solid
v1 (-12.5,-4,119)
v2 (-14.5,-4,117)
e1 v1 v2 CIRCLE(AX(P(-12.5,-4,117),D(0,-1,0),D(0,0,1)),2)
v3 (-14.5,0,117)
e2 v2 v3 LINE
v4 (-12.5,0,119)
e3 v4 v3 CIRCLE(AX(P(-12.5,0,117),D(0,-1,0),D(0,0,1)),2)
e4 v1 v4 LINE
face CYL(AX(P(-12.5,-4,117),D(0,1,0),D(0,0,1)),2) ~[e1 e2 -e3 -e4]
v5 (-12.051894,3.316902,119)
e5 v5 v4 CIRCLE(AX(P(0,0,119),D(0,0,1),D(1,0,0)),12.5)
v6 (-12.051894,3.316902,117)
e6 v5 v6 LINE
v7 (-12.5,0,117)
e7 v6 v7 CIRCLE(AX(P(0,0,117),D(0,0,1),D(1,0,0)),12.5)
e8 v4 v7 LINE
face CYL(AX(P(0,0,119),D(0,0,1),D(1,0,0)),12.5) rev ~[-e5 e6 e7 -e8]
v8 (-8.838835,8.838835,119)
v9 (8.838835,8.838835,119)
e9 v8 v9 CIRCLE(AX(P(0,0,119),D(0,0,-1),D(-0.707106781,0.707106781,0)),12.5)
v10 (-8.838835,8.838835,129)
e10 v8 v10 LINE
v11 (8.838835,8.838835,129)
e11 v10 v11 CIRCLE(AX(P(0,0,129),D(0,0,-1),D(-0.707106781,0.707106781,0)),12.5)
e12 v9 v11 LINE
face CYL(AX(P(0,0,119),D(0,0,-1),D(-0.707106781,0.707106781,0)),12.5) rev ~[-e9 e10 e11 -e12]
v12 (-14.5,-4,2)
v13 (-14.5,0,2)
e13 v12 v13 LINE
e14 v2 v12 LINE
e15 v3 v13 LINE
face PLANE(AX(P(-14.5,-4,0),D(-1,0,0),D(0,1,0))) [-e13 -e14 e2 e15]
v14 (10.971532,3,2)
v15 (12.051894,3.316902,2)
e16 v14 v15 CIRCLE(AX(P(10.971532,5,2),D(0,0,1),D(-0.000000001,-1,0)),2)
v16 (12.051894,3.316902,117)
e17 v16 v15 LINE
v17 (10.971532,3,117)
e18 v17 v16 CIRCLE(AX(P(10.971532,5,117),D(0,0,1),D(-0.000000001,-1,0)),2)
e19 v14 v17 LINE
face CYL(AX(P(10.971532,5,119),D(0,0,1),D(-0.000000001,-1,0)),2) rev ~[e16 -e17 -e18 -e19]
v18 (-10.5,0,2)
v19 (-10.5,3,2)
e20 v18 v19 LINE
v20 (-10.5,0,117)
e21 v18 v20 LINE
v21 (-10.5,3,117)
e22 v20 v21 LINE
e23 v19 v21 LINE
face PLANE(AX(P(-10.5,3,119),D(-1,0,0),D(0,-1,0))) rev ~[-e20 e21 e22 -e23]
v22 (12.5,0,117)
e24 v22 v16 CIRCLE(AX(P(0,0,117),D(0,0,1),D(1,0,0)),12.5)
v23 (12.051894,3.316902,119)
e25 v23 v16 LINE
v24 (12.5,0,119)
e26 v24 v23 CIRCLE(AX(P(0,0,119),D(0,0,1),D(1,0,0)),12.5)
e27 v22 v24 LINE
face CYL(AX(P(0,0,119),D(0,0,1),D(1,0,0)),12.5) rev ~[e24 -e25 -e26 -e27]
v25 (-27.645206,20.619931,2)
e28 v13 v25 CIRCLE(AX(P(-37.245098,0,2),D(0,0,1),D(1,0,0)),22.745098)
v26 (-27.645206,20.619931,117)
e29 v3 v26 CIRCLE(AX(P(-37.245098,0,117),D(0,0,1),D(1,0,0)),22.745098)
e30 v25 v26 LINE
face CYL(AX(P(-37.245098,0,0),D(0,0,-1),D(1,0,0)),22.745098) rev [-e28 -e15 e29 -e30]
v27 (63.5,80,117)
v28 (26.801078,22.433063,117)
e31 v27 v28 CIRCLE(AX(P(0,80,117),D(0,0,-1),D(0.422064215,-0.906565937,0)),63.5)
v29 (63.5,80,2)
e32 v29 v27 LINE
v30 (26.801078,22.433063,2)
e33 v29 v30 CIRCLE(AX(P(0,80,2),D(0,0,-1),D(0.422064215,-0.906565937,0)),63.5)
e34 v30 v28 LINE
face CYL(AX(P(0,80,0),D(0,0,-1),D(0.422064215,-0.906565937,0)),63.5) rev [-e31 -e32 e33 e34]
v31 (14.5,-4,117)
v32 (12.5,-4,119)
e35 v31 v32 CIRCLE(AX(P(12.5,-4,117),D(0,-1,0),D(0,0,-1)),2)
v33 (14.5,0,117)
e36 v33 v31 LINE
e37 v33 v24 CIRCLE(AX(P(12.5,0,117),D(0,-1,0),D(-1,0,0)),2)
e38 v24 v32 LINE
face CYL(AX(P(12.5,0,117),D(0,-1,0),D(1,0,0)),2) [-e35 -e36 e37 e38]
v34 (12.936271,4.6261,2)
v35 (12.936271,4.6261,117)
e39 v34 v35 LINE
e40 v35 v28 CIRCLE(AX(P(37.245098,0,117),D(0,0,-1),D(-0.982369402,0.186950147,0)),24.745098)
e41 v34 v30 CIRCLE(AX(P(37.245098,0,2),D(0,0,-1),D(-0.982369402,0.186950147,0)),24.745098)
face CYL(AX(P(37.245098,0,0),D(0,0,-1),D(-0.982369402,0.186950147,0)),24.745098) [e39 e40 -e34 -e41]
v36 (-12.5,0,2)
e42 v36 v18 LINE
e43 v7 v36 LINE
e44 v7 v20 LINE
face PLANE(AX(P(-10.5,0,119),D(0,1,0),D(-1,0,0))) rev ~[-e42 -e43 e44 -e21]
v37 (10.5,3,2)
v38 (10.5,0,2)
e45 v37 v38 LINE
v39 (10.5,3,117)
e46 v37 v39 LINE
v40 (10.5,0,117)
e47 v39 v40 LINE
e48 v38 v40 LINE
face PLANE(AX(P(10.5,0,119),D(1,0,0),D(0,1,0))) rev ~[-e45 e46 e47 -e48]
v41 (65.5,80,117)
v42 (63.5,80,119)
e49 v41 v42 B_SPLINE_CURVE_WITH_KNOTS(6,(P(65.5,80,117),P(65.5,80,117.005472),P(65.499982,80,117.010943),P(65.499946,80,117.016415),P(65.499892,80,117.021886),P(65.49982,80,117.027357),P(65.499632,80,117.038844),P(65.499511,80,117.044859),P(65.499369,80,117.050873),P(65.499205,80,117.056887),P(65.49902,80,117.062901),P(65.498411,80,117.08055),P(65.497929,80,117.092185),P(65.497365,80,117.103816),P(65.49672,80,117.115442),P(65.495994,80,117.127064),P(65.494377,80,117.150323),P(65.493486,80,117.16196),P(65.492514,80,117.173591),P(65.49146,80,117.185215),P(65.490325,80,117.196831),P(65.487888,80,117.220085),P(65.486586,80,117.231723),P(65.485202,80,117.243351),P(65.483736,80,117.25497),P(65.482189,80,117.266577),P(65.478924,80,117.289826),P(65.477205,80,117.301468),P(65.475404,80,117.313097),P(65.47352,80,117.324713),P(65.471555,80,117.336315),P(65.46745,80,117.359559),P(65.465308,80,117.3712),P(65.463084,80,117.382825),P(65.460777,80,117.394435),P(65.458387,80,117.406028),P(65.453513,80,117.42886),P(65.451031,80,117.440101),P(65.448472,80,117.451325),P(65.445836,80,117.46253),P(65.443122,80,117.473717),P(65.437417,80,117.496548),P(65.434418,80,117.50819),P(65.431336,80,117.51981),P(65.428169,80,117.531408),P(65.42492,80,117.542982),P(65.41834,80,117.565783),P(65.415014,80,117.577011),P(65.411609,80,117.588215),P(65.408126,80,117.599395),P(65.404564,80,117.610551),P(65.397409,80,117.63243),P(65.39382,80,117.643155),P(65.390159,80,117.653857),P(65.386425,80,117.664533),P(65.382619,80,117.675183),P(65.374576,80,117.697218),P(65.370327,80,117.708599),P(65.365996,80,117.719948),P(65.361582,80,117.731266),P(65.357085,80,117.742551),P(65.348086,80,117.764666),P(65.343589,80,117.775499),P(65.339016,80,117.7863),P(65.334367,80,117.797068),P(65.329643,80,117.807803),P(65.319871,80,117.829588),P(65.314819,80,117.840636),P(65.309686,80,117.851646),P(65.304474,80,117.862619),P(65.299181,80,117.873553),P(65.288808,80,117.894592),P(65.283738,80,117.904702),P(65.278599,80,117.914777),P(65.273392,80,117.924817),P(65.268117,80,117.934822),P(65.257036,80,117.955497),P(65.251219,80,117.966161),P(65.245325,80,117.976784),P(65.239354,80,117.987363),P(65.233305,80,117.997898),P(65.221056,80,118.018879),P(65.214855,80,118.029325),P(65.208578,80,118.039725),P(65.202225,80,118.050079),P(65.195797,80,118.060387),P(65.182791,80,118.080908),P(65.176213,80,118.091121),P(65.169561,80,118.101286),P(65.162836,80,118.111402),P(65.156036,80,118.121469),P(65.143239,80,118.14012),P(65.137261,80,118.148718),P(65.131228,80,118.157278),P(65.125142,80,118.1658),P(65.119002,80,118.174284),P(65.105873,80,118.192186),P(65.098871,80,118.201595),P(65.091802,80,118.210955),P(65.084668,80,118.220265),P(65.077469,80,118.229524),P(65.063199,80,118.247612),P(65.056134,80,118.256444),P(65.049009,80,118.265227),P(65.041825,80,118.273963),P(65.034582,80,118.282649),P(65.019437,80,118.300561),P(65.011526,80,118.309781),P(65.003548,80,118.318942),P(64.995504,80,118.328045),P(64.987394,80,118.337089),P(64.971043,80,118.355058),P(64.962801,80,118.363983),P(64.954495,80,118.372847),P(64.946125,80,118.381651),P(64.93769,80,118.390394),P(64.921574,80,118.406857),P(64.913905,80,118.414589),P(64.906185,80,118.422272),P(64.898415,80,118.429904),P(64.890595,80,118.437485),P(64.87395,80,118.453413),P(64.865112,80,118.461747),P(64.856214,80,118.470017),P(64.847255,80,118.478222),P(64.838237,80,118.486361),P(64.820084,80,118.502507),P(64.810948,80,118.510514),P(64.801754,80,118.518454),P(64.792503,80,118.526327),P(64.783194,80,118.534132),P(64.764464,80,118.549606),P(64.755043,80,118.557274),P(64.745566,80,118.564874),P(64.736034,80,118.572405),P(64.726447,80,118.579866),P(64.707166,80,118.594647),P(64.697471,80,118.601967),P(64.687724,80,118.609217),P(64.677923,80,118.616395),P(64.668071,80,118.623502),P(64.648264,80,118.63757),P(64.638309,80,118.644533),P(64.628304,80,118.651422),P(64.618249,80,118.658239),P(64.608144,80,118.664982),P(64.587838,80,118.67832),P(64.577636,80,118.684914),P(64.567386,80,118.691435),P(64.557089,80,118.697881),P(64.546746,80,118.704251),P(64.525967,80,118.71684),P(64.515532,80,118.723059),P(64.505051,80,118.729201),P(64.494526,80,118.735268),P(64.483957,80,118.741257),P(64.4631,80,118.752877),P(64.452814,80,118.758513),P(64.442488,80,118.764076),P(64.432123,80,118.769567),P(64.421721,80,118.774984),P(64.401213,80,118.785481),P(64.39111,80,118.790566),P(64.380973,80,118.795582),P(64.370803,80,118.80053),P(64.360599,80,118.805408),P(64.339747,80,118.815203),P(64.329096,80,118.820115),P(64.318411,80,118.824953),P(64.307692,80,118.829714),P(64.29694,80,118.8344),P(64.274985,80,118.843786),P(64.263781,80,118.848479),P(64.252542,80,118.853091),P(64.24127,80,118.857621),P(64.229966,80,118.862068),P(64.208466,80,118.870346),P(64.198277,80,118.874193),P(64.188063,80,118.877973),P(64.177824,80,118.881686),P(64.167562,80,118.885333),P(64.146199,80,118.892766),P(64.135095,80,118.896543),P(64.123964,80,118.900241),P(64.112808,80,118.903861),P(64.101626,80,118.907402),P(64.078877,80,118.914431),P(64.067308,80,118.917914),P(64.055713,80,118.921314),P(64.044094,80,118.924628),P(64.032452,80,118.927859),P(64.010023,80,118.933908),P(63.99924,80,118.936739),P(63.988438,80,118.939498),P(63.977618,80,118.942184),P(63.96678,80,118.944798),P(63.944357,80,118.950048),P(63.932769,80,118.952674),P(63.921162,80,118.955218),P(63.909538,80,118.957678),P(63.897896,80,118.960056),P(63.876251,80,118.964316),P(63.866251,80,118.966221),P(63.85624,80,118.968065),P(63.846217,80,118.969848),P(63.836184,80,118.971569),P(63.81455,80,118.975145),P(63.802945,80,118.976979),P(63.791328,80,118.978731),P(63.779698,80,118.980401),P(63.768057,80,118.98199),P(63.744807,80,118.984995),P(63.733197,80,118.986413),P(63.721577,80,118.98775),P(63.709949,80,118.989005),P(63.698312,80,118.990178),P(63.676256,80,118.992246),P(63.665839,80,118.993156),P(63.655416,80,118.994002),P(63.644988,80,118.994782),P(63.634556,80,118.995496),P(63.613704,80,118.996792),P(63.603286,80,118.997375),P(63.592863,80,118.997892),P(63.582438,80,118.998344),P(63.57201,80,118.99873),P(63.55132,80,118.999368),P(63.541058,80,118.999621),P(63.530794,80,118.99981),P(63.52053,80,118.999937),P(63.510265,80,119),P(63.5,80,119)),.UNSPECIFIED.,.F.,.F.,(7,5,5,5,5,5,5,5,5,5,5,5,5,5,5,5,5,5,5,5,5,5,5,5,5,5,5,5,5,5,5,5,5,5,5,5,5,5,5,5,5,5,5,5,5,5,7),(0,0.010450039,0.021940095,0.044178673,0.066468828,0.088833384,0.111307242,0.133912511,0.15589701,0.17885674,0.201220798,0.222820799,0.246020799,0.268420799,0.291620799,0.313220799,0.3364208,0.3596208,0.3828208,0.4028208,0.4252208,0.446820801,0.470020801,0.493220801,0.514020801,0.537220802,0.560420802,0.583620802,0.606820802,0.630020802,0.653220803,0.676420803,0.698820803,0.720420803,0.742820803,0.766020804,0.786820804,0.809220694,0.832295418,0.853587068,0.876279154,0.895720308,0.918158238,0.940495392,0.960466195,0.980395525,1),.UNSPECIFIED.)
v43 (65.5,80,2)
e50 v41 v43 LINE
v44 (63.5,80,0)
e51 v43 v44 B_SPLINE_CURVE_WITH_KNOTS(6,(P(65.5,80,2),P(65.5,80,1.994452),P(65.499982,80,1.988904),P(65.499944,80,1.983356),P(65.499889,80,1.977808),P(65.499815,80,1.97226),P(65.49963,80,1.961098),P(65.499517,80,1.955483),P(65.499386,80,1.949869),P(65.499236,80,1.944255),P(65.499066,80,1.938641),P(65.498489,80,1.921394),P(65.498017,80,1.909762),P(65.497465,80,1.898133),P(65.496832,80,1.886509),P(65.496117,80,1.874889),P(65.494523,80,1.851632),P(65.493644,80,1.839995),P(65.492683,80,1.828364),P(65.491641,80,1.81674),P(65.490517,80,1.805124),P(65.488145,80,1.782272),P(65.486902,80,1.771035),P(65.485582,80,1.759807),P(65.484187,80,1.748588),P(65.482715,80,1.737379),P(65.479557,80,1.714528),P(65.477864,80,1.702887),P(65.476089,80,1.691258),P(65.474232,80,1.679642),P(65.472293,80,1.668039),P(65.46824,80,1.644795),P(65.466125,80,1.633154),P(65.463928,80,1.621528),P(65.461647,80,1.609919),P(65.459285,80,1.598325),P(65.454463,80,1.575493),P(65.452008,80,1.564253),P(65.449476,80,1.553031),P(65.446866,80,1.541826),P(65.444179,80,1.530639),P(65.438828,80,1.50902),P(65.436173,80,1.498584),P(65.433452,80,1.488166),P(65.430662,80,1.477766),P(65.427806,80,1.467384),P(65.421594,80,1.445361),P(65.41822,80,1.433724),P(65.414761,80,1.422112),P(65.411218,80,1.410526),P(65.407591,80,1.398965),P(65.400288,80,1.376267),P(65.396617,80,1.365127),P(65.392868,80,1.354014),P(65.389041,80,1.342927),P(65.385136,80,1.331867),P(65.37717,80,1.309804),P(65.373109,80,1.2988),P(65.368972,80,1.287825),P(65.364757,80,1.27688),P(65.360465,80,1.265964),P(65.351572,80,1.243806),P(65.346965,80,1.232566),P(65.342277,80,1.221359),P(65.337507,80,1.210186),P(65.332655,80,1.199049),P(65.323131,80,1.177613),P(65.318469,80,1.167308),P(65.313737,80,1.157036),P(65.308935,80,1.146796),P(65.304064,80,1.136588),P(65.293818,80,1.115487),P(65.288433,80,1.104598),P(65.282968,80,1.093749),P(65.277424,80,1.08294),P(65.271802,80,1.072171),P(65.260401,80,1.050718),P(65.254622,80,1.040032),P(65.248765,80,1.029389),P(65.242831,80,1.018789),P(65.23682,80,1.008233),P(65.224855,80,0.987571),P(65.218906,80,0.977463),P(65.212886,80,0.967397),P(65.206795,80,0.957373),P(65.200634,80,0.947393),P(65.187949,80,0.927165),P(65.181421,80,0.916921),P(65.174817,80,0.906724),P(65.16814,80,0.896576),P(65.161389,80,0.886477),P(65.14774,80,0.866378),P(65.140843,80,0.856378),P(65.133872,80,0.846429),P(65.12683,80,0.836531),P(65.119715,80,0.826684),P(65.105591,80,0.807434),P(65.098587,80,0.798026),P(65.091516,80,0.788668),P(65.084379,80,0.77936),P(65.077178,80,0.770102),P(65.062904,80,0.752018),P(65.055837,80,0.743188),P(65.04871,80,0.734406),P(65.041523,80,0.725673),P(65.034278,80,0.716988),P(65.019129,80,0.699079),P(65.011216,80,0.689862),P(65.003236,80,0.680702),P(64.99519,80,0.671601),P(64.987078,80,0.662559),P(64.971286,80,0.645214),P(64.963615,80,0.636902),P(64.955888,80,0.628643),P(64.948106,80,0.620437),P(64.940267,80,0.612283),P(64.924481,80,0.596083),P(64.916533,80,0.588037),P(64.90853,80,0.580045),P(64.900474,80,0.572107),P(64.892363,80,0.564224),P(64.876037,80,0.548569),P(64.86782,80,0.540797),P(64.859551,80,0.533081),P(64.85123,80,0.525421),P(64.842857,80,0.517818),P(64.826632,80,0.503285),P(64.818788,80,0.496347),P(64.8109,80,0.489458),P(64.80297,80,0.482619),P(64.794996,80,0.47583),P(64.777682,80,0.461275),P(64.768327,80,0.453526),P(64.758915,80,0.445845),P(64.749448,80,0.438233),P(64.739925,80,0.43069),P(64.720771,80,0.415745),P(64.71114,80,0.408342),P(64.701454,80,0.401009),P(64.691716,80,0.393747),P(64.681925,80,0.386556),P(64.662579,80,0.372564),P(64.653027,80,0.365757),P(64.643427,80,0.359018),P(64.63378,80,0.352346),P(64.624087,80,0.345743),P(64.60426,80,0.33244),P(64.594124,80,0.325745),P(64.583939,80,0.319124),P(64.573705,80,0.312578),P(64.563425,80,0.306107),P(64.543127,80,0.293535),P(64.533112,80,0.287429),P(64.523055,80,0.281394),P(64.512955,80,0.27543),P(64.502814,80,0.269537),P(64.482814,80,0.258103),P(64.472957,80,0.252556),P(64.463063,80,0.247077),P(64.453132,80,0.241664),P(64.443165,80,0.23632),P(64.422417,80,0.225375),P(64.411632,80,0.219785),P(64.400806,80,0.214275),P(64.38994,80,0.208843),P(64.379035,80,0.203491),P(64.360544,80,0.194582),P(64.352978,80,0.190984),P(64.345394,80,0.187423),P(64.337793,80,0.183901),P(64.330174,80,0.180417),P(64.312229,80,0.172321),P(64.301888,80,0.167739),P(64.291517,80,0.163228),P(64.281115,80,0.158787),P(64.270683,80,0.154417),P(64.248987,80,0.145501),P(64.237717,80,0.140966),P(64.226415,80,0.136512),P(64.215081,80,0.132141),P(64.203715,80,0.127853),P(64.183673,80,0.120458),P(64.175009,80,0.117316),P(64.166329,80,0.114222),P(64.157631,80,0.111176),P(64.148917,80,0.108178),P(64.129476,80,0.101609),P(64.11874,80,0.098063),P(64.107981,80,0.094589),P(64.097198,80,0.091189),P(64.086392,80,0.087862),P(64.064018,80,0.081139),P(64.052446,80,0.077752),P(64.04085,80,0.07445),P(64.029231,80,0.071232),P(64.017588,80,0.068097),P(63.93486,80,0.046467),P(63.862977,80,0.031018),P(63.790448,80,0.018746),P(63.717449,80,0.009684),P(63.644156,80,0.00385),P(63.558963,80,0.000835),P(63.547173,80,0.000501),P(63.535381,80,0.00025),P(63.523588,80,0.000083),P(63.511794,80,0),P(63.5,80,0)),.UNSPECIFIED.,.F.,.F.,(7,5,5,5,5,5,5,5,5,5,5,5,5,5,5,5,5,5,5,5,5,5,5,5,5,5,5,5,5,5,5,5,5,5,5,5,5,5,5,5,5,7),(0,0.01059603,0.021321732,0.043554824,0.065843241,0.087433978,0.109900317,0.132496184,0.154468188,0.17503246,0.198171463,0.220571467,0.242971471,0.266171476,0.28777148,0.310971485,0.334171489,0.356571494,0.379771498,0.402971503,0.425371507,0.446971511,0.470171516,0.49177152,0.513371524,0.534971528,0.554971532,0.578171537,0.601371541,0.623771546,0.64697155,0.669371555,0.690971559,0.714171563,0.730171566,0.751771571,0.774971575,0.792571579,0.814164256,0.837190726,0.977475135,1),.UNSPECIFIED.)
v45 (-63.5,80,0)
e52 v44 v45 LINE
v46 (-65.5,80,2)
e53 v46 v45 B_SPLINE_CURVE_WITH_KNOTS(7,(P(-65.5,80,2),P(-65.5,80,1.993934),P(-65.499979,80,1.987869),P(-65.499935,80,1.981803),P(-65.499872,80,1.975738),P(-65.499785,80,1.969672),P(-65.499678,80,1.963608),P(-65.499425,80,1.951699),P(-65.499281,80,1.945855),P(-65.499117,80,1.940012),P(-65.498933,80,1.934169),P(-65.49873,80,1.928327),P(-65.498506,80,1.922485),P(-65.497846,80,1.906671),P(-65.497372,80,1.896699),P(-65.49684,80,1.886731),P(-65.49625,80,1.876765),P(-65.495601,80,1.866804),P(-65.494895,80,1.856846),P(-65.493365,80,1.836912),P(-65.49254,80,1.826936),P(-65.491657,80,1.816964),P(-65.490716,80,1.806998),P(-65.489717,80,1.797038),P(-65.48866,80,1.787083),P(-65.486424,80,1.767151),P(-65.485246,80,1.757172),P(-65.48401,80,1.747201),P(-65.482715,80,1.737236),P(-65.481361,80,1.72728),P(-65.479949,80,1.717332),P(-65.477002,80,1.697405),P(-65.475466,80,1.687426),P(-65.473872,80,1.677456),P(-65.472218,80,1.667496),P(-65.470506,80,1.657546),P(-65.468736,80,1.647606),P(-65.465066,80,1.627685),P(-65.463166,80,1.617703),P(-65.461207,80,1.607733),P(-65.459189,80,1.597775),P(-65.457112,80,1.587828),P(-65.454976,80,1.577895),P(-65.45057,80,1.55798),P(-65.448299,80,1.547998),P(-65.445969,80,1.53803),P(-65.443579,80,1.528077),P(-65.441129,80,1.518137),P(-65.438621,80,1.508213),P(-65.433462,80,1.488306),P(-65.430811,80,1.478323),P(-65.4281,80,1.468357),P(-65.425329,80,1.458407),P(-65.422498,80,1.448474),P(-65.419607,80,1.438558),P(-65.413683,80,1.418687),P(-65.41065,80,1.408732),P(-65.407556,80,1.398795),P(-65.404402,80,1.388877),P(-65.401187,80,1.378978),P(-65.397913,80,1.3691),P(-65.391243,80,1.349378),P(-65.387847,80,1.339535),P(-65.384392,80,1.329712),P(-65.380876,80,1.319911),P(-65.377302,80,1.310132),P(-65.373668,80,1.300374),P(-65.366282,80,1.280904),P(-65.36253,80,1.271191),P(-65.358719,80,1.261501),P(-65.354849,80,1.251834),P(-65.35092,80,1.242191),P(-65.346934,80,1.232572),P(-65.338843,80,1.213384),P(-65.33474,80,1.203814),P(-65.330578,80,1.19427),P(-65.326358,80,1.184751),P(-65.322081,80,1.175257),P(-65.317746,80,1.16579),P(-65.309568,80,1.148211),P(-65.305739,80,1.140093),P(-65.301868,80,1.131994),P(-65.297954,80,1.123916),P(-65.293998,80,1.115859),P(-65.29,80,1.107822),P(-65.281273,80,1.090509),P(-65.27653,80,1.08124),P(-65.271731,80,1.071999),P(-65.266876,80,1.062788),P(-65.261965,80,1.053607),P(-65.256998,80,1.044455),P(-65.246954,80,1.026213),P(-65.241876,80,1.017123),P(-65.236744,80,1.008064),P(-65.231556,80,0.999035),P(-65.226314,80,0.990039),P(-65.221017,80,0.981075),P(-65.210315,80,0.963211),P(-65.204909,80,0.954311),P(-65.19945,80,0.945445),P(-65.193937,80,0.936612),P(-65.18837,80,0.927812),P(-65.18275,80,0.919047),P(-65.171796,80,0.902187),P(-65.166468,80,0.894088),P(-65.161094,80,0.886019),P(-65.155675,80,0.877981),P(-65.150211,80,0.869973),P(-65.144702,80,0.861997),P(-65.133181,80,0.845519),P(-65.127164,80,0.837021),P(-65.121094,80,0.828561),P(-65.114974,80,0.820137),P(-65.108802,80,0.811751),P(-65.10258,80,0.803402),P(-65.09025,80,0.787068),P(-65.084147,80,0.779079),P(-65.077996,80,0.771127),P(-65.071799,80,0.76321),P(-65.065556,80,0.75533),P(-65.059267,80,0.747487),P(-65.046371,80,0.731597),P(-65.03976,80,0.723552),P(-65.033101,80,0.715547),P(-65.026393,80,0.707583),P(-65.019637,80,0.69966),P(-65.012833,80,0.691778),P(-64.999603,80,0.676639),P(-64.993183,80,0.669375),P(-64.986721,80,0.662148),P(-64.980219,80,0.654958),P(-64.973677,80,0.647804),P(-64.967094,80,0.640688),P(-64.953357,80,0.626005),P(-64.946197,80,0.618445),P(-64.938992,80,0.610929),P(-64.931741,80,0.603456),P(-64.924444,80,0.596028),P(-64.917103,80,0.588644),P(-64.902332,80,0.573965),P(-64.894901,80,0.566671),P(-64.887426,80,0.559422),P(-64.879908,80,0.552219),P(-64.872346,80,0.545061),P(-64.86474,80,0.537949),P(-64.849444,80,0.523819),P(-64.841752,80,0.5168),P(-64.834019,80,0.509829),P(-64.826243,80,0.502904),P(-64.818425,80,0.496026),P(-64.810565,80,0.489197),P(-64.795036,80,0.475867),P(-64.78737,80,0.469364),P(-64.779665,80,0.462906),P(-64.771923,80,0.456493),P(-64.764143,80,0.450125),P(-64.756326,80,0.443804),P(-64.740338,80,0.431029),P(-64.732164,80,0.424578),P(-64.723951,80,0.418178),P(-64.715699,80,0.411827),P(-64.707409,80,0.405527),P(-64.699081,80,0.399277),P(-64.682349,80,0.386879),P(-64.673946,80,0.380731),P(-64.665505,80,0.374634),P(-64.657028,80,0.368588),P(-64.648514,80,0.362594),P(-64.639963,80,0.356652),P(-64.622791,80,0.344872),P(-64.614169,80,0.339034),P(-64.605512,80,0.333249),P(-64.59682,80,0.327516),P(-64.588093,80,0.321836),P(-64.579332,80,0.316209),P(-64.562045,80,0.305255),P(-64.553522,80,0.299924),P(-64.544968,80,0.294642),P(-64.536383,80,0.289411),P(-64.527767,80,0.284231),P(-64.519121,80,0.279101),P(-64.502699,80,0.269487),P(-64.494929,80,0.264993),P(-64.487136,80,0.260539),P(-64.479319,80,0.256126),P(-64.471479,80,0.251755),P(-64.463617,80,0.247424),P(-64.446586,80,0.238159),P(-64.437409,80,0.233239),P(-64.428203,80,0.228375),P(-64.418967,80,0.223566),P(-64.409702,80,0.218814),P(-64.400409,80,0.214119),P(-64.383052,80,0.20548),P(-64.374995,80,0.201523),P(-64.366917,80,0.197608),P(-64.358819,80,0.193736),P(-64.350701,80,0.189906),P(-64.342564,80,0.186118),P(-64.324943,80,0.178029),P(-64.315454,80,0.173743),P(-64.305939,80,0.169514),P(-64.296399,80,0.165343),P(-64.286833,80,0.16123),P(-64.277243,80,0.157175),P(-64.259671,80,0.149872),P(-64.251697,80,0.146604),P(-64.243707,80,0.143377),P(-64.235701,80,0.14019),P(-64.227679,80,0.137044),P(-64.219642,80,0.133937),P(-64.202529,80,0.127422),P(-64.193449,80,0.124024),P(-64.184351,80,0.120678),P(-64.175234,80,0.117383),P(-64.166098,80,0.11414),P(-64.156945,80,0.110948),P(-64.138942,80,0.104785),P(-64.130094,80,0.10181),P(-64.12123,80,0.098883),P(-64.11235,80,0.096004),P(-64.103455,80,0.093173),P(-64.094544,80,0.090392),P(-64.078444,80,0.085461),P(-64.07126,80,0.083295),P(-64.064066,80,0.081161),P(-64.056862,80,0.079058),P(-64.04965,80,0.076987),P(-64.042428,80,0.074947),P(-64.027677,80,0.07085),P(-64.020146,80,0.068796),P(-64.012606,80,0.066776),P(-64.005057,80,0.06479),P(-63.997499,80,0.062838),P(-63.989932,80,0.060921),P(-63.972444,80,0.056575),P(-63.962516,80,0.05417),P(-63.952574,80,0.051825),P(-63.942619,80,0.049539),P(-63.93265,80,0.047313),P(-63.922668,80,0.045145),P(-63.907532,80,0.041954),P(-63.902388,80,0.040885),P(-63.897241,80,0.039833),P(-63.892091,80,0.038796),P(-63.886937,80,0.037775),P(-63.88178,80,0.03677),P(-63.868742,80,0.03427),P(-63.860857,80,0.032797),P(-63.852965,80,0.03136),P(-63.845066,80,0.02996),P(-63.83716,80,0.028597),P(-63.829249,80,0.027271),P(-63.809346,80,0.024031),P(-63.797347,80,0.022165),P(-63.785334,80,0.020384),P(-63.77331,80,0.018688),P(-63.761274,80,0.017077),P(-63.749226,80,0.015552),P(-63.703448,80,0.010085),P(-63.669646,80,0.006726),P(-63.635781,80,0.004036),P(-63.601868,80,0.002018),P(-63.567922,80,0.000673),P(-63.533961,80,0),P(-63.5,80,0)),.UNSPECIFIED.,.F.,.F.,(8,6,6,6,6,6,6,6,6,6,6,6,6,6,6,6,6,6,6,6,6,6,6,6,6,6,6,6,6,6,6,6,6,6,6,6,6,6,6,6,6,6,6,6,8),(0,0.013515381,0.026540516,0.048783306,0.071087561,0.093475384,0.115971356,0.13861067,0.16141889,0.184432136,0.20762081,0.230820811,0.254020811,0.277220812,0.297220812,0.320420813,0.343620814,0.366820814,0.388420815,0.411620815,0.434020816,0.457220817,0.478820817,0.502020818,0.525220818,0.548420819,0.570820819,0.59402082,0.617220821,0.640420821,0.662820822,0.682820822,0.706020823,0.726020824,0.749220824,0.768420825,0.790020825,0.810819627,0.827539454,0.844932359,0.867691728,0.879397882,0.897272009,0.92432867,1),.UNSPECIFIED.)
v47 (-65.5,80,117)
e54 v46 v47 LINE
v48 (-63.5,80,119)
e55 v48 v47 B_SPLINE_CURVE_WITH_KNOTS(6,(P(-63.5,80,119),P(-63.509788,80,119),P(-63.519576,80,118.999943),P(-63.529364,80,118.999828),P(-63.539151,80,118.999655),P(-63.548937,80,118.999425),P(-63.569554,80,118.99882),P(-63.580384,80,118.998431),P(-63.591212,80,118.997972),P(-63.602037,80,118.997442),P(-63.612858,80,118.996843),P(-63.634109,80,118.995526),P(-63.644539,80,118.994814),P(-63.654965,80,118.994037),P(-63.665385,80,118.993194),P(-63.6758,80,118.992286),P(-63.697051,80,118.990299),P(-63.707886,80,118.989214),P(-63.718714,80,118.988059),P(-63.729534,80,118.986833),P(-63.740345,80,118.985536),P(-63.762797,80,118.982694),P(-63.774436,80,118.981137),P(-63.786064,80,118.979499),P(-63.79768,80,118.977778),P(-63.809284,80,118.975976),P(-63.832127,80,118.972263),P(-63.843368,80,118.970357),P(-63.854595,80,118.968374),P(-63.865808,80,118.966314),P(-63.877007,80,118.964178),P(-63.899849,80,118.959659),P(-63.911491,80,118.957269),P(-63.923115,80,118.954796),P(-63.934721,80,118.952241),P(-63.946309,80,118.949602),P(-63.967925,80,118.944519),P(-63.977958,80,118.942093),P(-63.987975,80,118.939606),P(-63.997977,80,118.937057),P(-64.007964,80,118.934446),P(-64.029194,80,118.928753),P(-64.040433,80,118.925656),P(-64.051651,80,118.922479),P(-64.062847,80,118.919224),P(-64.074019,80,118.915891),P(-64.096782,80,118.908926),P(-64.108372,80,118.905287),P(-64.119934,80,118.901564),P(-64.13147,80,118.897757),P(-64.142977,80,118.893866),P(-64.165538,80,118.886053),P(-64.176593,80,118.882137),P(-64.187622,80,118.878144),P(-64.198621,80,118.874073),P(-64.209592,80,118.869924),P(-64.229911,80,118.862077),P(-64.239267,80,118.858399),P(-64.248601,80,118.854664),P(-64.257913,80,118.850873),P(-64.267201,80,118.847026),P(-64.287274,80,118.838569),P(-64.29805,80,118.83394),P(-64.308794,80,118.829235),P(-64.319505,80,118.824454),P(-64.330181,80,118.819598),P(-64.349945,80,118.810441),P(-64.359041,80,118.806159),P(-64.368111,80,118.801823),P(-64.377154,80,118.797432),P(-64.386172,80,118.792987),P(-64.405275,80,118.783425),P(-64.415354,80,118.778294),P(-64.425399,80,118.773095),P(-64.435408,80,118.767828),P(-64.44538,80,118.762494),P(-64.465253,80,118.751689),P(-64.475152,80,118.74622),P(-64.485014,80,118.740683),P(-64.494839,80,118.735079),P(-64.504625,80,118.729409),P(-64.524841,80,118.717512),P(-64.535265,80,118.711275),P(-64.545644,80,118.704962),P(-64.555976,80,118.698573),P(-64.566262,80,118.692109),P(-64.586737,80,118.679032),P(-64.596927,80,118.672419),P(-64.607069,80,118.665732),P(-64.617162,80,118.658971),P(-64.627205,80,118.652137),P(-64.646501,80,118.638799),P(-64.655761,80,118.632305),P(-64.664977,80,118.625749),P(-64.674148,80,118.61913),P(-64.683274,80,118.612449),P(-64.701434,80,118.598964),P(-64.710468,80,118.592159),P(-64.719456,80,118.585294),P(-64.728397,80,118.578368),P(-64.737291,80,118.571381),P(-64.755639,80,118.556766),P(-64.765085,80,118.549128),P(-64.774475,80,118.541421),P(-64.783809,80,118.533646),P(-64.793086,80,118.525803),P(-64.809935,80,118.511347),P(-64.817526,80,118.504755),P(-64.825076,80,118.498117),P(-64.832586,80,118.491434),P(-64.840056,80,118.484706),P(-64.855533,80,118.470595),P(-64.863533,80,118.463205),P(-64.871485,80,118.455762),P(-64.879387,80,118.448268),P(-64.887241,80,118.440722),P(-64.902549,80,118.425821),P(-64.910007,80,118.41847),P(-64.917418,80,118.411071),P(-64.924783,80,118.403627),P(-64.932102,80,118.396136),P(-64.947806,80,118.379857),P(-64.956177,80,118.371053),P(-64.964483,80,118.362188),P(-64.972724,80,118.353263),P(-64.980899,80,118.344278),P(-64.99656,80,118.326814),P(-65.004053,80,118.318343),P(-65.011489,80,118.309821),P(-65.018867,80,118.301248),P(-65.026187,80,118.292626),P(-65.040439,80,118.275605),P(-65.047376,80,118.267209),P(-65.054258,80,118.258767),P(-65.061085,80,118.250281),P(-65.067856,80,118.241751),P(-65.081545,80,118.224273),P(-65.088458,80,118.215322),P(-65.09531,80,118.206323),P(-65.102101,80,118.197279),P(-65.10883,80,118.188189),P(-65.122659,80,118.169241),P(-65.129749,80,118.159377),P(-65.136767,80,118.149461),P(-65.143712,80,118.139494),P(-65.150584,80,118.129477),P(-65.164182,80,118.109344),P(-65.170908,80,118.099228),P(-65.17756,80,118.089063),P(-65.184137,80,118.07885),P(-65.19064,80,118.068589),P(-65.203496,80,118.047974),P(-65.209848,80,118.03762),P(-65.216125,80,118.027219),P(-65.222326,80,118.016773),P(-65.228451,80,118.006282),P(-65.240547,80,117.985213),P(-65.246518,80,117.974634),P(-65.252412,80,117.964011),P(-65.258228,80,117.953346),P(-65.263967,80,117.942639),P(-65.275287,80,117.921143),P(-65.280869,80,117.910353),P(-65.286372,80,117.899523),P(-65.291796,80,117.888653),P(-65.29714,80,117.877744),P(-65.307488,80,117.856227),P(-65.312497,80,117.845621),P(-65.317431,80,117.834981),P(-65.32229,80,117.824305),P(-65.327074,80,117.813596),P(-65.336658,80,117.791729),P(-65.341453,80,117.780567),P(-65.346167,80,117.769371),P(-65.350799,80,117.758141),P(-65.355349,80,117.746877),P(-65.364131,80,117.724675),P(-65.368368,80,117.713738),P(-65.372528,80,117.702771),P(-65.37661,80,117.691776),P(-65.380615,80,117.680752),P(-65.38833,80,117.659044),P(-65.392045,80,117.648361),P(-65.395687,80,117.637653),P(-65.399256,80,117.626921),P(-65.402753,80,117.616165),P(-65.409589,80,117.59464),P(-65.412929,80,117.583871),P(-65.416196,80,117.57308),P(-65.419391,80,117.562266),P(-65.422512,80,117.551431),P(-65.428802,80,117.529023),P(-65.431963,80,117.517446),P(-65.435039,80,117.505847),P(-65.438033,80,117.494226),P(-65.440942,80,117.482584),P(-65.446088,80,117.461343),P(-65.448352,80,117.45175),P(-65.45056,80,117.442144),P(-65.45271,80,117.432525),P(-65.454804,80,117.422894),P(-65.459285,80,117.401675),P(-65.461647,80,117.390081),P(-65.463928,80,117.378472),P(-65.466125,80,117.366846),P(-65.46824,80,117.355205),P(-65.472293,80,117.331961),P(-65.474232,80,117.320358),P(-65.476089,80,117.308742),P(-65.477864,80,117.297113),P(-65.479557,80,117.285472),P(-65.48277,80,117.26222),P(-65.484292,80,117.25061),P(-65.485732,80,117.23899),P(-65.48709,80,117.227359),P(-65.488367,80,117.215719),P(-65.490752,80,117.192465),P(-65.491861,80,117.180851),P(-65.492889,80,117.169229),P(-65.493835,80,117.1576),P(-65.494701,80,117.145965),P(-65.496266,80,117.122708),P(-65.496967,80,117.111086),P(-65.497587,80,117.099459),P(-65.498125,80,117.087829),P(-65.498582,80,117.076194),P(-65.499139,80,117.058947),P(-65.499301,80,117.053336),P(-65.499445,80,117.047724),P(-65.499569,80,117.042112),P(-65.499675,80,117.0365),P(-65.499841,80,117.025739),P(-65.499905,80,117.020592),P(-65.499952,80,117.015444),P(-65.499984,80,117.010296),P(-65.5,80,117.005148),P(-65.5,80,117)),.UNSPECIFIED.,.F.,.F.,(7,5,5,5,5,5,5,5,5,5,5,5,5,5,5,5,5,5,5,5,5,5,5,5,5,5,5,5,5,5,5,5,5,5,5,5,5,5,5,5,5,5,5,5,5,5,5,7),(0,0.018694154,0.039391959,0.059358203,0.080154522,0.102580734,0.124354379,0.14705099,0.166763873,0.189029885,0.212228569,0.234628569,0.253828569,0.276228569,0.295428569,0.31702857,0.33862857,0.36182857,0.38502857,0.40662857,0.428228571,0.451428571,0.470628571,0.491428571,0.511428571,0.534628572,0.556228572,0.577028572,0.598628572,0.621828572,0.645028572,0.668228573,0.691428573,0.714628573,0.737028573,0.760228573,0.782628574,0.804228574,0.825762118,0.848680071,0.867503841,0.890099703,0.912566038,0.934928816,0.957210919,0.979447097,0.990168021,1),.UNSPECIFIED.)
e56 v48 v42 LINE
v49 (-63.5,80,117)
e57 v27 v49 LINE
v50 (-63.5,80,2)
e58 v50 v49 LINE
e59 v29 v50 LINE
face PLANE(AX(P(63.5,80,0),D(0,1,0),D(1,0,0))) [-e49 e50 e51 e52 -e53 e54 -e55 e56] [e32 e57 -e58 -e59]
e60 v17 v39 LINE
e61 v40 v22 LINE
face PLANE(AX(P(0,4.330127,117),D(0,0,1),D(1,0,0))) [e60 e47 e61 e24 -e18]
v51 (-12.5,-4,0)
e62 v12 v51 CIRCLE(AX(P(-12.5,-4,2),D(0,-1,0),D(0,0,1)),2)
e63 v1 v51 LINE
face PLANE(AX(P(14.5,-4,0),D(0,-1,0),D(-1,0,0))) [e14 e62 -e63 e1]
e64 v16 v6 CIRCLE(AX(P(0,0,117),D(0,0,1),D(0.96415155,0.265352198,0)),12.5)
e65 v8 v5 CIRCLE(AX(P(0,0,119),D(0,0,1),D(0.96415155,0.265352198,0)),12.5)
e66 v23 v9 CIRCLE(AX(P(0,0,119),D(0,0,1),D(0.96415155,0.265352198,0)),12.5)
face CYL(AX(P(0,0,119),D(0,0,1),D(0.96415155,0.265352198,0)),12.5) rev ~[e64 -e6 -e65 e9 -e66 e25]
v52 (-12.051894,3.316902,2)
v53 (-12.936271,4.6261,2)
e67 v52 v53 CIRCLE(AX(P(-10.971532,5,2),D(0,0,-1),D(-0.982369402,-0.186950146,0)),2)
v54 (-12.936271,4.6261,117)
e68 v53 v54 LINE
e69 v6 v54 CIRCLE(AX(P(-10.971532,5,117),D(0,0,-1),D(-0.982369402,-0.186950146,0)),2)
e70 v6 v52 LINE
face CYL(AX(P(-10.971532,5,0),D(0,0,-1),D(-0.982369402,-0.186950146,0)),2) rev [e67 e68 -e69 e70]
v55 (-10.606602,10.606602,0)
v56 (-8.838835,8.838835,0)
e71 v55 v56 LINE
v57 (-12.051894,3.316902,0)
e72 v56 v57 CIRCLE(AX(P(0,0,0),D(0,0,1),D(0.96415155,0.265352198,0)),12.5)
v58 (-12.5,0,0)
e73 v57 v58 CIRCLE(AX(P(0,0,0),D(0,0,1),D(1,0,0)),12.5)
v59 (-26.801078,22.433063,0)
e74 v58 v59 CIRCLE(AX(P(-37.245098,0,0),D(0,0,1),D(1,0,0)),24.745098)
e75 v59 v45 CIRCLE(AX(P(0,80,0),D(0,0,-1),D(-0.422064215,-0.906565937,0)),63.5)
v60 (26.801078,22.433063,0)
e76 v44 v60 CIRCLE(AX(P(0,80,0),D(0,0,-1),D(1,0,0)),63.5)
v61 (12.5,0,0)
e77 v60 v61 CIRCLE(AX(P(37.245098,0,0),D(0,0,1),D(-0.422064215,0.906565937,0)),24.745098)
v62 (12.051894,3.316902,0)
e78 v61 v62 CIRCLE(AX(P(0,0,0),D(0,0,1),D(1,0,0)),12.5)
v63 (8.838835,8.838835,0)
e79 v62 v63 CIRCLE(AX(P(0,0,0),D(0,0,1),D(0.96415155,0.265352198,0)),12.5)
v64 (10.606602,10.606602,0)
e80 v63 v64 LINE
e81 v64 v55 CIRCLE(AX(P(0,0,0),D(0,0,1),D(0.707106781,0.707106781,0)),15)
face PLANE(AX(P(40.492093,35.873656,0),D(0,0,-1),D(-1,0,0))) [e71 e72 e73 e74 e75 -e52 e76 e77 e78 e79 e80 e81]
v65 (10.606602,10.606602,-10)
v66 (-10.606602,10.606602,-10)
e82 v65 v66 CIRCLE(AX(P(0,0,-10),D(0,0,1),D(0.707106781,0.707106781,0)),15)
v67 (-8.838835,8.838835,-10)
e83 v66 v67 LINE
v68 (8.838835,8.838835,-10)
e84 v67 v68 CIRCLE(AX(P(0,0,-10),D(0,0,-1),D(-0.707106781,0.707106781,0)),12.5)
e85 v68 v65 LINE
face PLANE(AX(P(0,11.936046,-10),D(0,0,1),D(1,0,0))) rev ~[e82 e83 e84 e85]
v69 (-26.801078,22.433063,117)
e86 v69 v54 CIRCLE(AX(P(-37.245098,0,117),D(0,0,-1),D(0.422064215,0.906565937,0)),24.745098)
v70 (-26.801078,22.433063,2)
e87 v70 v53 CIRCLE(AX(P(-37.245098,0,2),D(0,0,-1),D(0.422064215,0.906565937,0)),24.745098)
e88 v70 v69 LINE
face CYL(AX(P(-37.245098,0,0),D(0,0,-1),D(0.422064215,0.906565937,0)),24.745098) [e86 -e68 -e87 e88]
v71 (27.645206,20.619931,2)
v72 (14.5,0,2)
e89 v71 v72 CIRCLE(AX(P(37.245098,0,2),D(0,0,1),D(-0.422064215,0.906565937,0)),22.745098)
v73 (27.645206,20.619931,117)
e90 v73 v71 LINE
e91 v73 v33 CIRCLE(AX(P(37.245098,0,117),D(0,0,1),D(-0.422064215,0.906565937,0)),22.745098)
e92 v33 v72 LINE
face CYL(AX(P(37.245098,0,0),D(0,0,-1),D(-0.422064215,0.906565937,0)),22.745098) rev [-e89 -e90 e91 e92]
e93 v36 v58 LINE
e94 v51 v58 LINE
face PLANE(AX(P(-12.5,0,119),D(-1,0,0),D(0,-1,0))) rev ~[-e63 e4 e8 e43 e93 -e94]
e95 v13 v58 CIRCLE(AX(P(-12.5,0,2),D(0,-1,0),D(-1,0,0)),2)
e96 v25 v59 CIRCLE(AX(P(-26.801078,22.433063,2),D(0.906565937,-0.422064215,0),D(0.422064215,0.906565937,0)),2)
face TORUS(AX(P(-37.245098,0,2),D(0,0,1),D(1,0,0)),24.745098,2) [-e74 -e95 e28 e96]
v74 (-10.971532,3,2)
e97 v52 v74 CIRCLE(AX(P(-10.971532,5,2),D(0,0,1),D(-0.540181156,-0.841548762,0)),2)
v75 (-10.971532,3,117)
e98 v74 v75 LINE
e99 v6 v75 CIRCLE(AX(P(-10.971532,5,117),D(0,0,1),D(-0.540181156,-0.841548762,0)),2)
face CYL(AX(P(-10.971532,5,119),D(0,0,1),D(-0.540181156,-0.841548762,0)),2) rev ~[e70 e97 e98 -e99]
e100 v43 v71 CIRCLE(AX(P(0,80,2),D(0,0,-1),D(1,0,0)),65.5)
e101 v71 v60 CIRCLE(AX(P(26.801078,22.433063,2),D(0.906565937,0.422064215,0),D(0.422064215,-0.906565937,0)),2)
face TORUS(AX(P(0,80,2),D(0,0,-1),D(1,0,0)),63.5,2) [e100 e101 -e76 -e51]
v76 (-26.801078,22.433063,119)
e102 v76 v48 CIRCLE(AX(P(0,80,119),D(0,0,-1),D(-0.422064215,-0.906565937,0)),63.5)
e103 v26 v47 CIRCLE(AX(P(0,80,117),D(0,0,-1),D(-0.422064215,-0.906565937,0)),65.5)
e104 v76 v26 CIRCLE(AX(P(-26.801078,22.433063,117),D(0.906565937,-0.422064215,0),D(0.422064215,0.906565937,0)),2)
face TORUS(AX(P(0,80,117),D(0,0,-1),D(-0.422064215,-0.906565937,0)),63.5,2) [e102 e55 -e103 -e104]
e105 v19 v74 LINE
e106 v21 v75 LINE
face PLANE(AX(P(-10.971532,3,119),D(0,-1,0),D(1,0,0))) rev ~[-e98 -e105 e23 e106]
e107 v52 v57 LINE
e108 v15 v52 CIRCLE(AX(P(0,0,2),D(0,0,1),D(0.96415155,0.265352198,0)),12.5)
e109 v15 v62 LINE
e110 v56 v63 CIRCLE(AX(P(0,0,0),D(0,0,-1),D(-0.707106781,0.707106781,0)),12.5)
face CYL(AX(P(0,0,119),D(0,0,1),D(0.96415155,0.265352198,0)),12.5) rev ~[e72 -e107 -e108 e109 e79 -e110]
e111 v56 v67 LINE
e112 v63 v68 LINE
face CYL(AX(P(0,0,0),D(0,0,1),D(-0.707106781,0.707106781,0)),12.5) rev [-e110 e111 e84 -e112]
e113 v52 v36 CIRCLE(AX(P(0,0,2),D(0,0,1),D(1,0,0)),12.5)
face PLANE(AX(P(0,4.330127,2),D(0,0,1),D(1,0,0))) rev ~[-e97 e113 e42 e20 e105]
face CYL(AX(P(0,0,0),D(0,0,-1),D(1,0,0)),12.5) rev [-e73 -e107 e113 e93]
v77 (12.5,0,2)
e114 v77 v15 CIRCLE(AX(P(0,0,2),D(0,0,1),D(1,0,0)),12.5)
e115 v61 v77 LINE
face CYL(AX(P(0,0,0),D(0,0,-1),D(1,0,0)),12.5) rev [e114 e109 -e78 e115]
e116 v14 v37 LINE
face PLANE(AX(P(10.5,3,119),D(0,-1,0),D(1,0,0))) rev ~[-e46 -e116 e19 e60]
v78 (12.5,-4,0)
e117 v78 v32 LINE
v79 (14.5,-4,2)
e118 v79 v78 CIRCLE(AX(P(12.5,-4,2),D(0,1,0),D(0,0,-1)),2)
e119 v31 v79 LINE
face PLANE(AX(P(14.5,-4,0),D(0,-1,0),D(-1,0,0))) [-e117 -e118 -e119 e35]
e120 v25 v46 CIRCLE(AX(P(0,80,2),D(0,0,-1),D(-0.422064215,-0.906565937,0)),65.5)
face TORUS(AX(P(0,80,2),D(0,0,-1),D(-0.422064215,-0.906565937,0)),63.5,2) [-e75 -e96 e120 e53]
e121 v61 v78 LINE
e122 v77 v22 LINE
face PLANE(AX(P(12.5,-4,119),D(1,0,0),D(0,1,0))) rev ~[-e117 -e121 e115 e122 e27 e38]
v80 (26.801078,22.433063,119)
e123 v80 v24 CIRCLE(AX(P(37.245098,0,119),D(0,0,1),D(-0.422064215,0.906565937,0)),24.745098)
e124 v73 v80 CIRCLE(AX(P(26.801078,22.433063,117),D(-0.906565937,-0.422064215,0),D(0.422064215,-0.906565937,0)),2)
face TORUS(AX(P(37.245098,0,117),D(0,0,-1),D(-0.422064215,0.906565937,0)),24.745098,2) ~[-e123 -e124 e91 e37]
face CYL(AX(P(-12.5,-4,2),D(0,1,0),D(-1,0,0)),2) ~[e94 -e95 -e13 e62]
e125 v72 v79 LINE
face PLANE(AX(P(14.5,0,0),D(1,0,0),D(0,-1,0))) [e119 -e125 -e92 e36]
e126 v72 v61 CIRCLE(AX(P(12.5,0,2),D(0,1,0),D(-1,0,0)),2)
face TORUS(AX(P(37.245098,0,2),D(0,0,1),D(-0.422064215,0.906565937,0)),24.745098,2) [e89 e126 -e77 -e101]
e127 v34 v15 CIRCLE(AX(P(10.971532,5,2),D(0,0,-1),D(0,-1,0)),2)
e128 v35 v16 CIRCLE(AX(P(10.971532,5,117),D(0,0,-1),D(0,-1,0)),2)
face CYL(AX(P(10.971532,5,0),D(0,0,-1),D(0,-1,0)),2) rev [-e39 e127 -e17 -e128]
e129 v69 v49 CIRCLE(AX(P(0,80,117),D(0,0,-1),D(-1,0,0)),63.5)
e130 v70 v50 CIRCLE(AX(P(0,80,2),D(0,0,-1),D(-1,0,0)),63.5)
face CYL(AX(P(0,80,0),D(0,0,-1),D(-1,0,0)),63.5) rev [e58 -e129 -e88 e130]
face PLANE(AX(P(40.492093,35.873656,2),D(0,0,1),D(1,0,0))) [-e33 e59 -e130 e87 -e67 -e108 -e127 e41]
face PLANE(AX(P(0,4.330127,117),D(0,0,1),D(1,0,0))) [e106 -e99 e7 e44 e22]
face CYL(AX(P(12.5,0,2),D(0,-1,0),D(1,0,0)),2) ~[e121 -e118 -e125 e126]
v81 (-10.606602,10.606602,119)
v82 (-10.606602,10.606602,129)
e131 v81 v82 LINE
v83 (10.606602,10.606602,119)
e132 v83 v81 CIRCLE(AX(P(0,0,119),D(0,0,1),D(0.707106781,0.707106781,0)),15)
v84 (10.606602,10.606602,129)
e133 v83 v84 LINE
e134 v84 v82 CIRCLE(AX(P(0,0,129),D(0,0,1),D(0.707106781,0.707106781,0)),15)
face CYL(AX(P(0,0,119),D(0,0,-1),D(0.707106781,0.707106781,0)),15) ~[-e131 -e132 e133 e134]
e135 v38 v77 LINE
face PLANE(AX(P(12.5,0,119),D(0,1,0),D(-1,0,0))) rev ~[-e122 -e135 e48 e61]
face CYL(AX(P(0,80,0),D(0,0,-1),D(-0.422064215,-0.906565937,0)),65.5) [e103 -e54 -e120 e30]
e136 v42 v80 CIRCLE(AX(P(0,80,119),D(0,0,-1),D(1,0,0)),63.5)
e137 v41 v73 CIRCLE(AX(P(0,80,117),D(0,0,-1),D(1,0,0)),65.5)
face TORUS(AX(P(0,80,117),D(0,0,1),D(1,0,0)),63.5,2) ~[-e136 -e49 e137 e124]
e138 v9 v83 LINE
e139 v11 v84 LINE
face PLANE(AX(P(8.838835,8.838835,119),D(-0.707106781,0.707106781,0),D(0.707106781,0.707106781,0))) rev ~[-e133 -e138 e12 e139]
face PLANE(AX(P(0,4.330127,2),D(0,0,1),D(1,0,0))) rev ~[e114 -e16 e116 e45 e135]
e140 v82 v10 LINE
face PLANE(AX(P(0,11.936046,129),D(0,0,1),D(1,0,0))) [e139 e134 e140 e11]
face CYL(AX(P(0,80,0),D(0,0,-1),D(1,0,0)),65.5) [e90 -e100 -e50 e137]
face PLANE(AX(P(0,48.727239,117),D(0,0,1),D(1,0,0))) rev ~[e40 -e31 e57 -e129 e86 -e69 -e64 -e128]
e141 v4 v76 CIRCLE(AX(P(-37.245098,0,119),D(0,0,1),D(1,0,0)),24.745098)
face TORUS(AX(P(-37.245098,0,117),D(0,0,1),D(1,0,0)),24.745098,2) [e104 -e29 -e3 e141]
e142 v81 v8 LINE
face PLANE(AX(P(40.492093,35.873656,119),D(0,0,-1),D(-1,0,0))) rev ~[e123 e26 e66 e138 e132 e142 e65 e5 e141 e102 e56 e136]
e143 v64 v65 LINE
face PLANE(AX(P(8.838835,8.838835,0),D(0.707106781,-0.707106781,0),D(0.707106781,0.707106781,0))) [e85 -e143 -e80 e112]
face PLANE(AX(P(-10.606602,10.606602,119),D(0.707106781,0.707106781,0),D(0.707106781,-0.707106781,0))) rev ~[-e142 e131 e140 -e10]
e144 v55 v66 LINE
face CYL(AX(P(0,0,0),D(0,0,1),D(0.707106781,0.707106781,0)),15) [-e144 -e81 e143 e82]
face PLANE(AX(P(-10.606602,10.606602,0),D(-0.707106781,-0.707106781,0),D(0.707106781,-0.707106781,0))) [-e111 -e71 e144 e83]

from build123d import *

# Parameters (mm, degrees)
ESTRUSIONE_ESTRUSIONE1_DEPTH   = 119
ESTRUSIONE_ESTRUSIONE1_2_DEPTH = 119
ESTRUSIONE_ESTRUSIONE2_DEPTH   = 2
ESTRUSIONE_ESTRUSIONE4_START   = -119
ESTRUSIONE_ESTRUSIONE4_DEPTH   = 2
RACCORDO1_R                    = 2
TAGLIO_ESTRUSIONE1_DEPTH       = 120.0000001
TAGLIO_ESTRUSIONE2_DEPTH       = 2
TAGLIO_ESTRUSIONE3_DEPTH       = 2
ESTRUSIONE_ESTRUSIONE5_DEPTH   = 10
ESTRUSIONE_ESTRUSIONE6_DEPTH   = 10


with BuildPart() as part:
    # Schizzo1 → Estrusione-Estrusione1 (new body)
    with BuildSketch(Plane.XY):
        with BuildLine():
            Line((-65.5, 80), (-63.5, 80))
            ThreePointArc((-63.5, 80), (-53.544927077, 45.865108989), (-26.801077658, 22.433062993))
            ThreePointArc((-26.801077658, 22.433062993), (-17.720444684, 15.202229716), (-12.936270867, 4.626099707))
            ThreePointArc((-12.936270867, 4.626099707), (-12.246718209, 3.459253333), (-10.971532063, 3))
            Line((-10.971532063, 3), (-10.5, 3))
            Line((-10.5, 3), (-10.5, 0))
            Line((-10.5, 0), (-12.5, 0))
            Line((-12.5, 0), (-12.5, -4))
            Line((-12.5, -4), (-14.5, -4))
            Line((-14.5, -4), (-14.5, 0))
            ThreePointArc((-14.5, 0), (-18.06581275, 12.226794372), (-27.645206088, 20.619931119))
            ThreePointArc((-27.645206088, 20.619931119), (-55.231381473, 44.789994311), (-65.5, 80))
        make_face()
    extrude(amount=ESTRUSIONE_ESTRUSIONE1_DEPTH)



with BuildPart() as body_2:
    # Schizzo1 → Estrusione-Estrusione1 2 (new body)
    with BuildSketch(Plane.XY):
        with BuildLine():
            Line((63.5, 80), (65.5, 80))
            ThreePointArc((65.5, 80), (55.231381473, 44.789994311), (27.645206088, 20.619931119))
            ThreePointArc((27.645206088, 20.619931119), (18.06581275, 12.226794372), (14.5, 0))
            Line((14.5, 0), (14.5, -4))
            Line((14.5, -4), (12.5, -4))
            Line((12.5, -4), (12.5, 0))
            Line((12.5, 0), (10.5, 0))
            Line((10.5, 0), (10.5, 3))
            Line((10.5, 3), (10.971532063, 3))
            ThreePointArc((10.971532063, 3), (12.246718209, 3.459253333), (12.936270867, 4.626099707))
            ThreePointArc((12.936270867, 4.626099707), (17.720444684, 15.202229716), (26.801077658, 22.433062993))
            ThreePointArc((26.801077658, 22.433062993), (53.544927077, 45.865108989), (63.5, 80))
        make_face()
    extrude(amount=ESTRUSIONE_ESTRUSIONE1_2_DEPTH)


with BuildPart() as part_1:
    add(part.part)

    add(body_2.part)  # Estrusione-Estrusione2 merges body 2
    # Schizzo2 → Estrusione-Estrusione2 (add)
    with BuildSketch(Plane.XY.offset(119)):
        with BuildLine():
            Line((65.5, 80), (-65.5, 80))
            ThreePointArc((-65.5, 80), (-55.231381473, 44.789994311), (-27.645206088, 20.619931119))
            ThreePointArc((-27.645206088, 20.619931119), (-18.06581275, 12.226794372), (-14.5, 0))
            Line((-14.5, 0), (-14.5, -4))
            Line((-14.5, -4), (14.5, -4))
            Line((14.5, -4), (14.5, 0))
            ThreePointArc((14.5, 0), (18.06581275, 12.226794372), (27.645206088, 20.619931119))
            ThreePointArc((27.645206088, 20.619931119), (55.231381473, 44.789994311), (65.5, 80))
        make_face()
    extrude(amount=-ESTRUSIONE_ESTRUSIONE2_DEPTH)

    # Schizzo2<4> → Estrusione-Estrusione4 (add)
    with BuildSketch(Plane.XY.offset(119).offset(ESTRUSIONE_ESTRUSIONE4_START)):
        with BuildLine():
            ThreePointArc((27.645206088, 20.619931119), (55.231381473, 44.789994311), (65.5, 80))
            Line((65.5, 80), (63.5, 80))
            ThreePointArc((63.5, 80), (53.544927077, 45.865108989), (26.801077658, 22.433062993))
            ThreePointArc((26.801077658, 22.433062993), (17.720444684, 15.202229716), (12.936270867, 4.626099707))
            ThreePointArc((12.936270867, 4.626099707), (12.246718209, 3.459253333), (10.971532063, 3))
            Line((10.971532063, 3), (10.5, 3))
            Line((10.5, 3), (10.5, 0))
            Line((10.5, 0), (12.5, 0))
            Line((12.5, 0), (12.5, -4))
            Line((12.5, -4), (14.5, -4))
            Line((14.5, -4), (14.5, 0))
            ThreePointArc((14.5, 0), (18.06581275, 12.226794372), (27.645206088, 20.619931119))
        make_face()
        with BuildLine():
            ThreePointArc((26.801077658, 22.433062993), (53.544927077, 45.865108989), (63.5, 80))
            Line((63.5, 80), (-63.5, 80))
            ThreePointArc((-63.5, 80), (-53.544927077, 45.865108989), (-26.801077658, 22.433062993))
            ThreePointArc((-26.801077658, 22.433062993), (-17.720444684, 15.202229716), (-12.936270867, 4.626099707))
            ThreePointArc((-12.936270867, 4.626099707), (-12.246718209, 3.459253333), (-10.971532063, 3))
            Line((-10.971532063, 3), (-10.5, 3))
            Line((-10.5, 3), (-10.5, 0))
            Line((-10.5, 0), (-12.5, 0))
            Line((-12.5, 0), (-12.5, -4))
            Line((-12.5, -4), (12.5, -4))
            Line((12.5, -4), (12.5, 0))
            Line((12.5, 0), (10.5, 0))
            Line((10.5, 0), (10.5, 3))
            Line((10.5, 3), (10.971532063, 3))
            ThreePointArc((10.971532063, 3), (12.246718209, 3.459253333), (12.936270867, 4.626099707))
            ThreePointArc((12.936270867, 4.626099707), (17.720444684, 15.202229716), (26.801077658, 22.433062993))
        make_face()
        with BuildLine():
            ThreePointArc((-26.801077658, 22.433062993), (-53.544927077, 45.865108989), (-63.5, 80))
            Line((-63.5, 80), (-65.5, 80))
            ThreePointArc((-65.5, 80), (-55.231381473, 44.789994311), (-27.645206088, 20.619931119))
            ThreePointArc((-27.645206088, 20.619931119), (-18.06581275, 12.226794372), (-14.5, 0))
            Line((-14.5, 0), (-14.5, -4))
            Line((-14.5, -4), (-12.5, -4))
            Line((-12.5, -4), (-12.5, 0))
            Line((-12.5, 0), (-10.5, 0))
            Line((-10.5, 0), (-10.5, 3))
            Line((-10.5, 3), (-10.971532063, 3))
            ThreePointArc((-10.971532063, 3), (-12.246718209, 3.459253333), (-12.936270867, 4.626099707))
            ThreePointArc((-12.936270867, 4.626099707), (-17.720444684, 15.202229716), (-26.801077658, 22.433062993))
        make_face()
    extrude(amount=ESTRUSIONE_ESTRUSIONE4_DEPTH)

    # Raccordo1
    raccordo1_edges = [part_1.edges().sort_by_distance(p)[0] for p in [
        (-14.5, -2, 0),
        (-18.06581275, 12.226794372, 0),
        (-55.231381473, 44.789994311, 0),
        (-55.231381473, 44.789994311, 119),
        (-18.06581275, 12.226794372, 119),
        (-14.5, -2, 119),
        (14.5, -2, 119),
        (55.231381473, 44.789994311, 119),
        (18.06581275, 12.226794372, 119),
        (55.231381473, 44.789994311, 0),
        (14.5, -2, 0),
        (18.06581275, 12.226794372, 0),
    ]]
    fillet(raccordo1_edges, radius=RACCORDO1_R)

    # Schizzo3 → Taglio-Estrusione1 (cut, through all)
    with BuildSketch(Plane.XY.offset(119)):
        with BuildLine():
            Line((-12.5, 0), (-12.5, -4))
            Line((-12.5, -4), (12.5, -4))
            Line((12.5, -4), (12.5, 0))
            Line((12.5, 0), (10.5, 0))
            Line((10.5, 0), (10.5, 3))
            Line((10.5, 3), (10.971532063, 3))
            ThreePointArc((10.971532063, 3), (11.534472979, 3.080860212), (12.051894373, 3.316902475))
            ThreePointArc((12.051894373, 3.316902475), (0, 12.5), (-12.051894373, 3.316902475))
            ThreePointArc((-12.051894373, 3.316902475), (-11.534472979, 3.080860212), (-10.971532063, 3))
            Line((-10.971532063, 3), (-10.5, 3))
            Line((-10.5, 3), (-10.5, 0))
            Line((-10.5, 0), (-12.5, 0))
        make_face()
    extrude(amount=-TAGLIO_ESTRUSIONE1_DEPTH, mode=Mode.SUBTRACT)

    # Schizzo5 → Taglio-Estrusione2 (cut)
    with BuildSketch(Plane.XY.offset(119)):
        with BuildLine():
            Line((-12.5, 0), (12.5, 0))
            ThreePointArc((12.5, 0), (0, 12.5), (-12.5, 0))
        make_face()
    extrude(amount=-TAGLIO_ESTRUSIONE2_DEPTH, mode=Mode.SUBTRACT)

    # Schizzo7 → Taglio-Estrusione3 (cut)
    with BuildSketch(Plane(origin=(0, 0, 0), x_dir=(-1, 0, 0), z_dir=(0, 0, -1))):
        with BuildLine():
            Line((12.5, 0), (-12.5, 0))
            ThreePointArc((-12.5, 0), (0, 12.5), (12.5, 0))
        make_face()
    extrude(amount=-TAGLIO_ESTRUSIONE3_DEPTH, mode=Mode.SUBTRACT)

    # Schizzo8 → Estrusione-Estrusione5 (add)
    with BuildSketch(Plane(origin=(0, 0, 0), x_dir=(-1, 0, 0), z_dir=(0, 0, -1))):
        with BuildLine():
            Line((-8.838834765, 8.838834765), (-10.606601718, 10.606601718))
            ThreePointArc((-10.606601718, 10.606601718), (0, 15), (10.606601718, 10.606601718))
            Line((10.606601718, 10.606601718), (8.838834765, 8.838834765))
            ThreePointArc((8.838834765, 8.838834765), (0, 12.5), (-8.838834765, 8.838834765))
        make_face()
    extrude(amount=ESTRUSIONE_ESTRUSIONE5_DEPTH)

    # Schizzo10 → Estrusione-Estrusione6 (add)
    with BuildSketch(Plane.XY.offset(119)):
        with BuildLine():
            Line((8.838834765, 8.838834765), (10.606601718, 10.606601718))
            ThreePointArc((10.606601718, 10.606601718), (0, 15), (-10.606601718, 10.606601718))
            Line((-10.606601718, 10.606601718), (-8.838834765, 8.838834765))
            ThreePointArc((-8.838834765, 8.838834765), (0, 12.5), (8.838834765, 8.838834765))
        make_face()
    extrude(amount=ESTRUSIONE_ESTRUSIONE6_DEPTH)


solid = part_1.part
